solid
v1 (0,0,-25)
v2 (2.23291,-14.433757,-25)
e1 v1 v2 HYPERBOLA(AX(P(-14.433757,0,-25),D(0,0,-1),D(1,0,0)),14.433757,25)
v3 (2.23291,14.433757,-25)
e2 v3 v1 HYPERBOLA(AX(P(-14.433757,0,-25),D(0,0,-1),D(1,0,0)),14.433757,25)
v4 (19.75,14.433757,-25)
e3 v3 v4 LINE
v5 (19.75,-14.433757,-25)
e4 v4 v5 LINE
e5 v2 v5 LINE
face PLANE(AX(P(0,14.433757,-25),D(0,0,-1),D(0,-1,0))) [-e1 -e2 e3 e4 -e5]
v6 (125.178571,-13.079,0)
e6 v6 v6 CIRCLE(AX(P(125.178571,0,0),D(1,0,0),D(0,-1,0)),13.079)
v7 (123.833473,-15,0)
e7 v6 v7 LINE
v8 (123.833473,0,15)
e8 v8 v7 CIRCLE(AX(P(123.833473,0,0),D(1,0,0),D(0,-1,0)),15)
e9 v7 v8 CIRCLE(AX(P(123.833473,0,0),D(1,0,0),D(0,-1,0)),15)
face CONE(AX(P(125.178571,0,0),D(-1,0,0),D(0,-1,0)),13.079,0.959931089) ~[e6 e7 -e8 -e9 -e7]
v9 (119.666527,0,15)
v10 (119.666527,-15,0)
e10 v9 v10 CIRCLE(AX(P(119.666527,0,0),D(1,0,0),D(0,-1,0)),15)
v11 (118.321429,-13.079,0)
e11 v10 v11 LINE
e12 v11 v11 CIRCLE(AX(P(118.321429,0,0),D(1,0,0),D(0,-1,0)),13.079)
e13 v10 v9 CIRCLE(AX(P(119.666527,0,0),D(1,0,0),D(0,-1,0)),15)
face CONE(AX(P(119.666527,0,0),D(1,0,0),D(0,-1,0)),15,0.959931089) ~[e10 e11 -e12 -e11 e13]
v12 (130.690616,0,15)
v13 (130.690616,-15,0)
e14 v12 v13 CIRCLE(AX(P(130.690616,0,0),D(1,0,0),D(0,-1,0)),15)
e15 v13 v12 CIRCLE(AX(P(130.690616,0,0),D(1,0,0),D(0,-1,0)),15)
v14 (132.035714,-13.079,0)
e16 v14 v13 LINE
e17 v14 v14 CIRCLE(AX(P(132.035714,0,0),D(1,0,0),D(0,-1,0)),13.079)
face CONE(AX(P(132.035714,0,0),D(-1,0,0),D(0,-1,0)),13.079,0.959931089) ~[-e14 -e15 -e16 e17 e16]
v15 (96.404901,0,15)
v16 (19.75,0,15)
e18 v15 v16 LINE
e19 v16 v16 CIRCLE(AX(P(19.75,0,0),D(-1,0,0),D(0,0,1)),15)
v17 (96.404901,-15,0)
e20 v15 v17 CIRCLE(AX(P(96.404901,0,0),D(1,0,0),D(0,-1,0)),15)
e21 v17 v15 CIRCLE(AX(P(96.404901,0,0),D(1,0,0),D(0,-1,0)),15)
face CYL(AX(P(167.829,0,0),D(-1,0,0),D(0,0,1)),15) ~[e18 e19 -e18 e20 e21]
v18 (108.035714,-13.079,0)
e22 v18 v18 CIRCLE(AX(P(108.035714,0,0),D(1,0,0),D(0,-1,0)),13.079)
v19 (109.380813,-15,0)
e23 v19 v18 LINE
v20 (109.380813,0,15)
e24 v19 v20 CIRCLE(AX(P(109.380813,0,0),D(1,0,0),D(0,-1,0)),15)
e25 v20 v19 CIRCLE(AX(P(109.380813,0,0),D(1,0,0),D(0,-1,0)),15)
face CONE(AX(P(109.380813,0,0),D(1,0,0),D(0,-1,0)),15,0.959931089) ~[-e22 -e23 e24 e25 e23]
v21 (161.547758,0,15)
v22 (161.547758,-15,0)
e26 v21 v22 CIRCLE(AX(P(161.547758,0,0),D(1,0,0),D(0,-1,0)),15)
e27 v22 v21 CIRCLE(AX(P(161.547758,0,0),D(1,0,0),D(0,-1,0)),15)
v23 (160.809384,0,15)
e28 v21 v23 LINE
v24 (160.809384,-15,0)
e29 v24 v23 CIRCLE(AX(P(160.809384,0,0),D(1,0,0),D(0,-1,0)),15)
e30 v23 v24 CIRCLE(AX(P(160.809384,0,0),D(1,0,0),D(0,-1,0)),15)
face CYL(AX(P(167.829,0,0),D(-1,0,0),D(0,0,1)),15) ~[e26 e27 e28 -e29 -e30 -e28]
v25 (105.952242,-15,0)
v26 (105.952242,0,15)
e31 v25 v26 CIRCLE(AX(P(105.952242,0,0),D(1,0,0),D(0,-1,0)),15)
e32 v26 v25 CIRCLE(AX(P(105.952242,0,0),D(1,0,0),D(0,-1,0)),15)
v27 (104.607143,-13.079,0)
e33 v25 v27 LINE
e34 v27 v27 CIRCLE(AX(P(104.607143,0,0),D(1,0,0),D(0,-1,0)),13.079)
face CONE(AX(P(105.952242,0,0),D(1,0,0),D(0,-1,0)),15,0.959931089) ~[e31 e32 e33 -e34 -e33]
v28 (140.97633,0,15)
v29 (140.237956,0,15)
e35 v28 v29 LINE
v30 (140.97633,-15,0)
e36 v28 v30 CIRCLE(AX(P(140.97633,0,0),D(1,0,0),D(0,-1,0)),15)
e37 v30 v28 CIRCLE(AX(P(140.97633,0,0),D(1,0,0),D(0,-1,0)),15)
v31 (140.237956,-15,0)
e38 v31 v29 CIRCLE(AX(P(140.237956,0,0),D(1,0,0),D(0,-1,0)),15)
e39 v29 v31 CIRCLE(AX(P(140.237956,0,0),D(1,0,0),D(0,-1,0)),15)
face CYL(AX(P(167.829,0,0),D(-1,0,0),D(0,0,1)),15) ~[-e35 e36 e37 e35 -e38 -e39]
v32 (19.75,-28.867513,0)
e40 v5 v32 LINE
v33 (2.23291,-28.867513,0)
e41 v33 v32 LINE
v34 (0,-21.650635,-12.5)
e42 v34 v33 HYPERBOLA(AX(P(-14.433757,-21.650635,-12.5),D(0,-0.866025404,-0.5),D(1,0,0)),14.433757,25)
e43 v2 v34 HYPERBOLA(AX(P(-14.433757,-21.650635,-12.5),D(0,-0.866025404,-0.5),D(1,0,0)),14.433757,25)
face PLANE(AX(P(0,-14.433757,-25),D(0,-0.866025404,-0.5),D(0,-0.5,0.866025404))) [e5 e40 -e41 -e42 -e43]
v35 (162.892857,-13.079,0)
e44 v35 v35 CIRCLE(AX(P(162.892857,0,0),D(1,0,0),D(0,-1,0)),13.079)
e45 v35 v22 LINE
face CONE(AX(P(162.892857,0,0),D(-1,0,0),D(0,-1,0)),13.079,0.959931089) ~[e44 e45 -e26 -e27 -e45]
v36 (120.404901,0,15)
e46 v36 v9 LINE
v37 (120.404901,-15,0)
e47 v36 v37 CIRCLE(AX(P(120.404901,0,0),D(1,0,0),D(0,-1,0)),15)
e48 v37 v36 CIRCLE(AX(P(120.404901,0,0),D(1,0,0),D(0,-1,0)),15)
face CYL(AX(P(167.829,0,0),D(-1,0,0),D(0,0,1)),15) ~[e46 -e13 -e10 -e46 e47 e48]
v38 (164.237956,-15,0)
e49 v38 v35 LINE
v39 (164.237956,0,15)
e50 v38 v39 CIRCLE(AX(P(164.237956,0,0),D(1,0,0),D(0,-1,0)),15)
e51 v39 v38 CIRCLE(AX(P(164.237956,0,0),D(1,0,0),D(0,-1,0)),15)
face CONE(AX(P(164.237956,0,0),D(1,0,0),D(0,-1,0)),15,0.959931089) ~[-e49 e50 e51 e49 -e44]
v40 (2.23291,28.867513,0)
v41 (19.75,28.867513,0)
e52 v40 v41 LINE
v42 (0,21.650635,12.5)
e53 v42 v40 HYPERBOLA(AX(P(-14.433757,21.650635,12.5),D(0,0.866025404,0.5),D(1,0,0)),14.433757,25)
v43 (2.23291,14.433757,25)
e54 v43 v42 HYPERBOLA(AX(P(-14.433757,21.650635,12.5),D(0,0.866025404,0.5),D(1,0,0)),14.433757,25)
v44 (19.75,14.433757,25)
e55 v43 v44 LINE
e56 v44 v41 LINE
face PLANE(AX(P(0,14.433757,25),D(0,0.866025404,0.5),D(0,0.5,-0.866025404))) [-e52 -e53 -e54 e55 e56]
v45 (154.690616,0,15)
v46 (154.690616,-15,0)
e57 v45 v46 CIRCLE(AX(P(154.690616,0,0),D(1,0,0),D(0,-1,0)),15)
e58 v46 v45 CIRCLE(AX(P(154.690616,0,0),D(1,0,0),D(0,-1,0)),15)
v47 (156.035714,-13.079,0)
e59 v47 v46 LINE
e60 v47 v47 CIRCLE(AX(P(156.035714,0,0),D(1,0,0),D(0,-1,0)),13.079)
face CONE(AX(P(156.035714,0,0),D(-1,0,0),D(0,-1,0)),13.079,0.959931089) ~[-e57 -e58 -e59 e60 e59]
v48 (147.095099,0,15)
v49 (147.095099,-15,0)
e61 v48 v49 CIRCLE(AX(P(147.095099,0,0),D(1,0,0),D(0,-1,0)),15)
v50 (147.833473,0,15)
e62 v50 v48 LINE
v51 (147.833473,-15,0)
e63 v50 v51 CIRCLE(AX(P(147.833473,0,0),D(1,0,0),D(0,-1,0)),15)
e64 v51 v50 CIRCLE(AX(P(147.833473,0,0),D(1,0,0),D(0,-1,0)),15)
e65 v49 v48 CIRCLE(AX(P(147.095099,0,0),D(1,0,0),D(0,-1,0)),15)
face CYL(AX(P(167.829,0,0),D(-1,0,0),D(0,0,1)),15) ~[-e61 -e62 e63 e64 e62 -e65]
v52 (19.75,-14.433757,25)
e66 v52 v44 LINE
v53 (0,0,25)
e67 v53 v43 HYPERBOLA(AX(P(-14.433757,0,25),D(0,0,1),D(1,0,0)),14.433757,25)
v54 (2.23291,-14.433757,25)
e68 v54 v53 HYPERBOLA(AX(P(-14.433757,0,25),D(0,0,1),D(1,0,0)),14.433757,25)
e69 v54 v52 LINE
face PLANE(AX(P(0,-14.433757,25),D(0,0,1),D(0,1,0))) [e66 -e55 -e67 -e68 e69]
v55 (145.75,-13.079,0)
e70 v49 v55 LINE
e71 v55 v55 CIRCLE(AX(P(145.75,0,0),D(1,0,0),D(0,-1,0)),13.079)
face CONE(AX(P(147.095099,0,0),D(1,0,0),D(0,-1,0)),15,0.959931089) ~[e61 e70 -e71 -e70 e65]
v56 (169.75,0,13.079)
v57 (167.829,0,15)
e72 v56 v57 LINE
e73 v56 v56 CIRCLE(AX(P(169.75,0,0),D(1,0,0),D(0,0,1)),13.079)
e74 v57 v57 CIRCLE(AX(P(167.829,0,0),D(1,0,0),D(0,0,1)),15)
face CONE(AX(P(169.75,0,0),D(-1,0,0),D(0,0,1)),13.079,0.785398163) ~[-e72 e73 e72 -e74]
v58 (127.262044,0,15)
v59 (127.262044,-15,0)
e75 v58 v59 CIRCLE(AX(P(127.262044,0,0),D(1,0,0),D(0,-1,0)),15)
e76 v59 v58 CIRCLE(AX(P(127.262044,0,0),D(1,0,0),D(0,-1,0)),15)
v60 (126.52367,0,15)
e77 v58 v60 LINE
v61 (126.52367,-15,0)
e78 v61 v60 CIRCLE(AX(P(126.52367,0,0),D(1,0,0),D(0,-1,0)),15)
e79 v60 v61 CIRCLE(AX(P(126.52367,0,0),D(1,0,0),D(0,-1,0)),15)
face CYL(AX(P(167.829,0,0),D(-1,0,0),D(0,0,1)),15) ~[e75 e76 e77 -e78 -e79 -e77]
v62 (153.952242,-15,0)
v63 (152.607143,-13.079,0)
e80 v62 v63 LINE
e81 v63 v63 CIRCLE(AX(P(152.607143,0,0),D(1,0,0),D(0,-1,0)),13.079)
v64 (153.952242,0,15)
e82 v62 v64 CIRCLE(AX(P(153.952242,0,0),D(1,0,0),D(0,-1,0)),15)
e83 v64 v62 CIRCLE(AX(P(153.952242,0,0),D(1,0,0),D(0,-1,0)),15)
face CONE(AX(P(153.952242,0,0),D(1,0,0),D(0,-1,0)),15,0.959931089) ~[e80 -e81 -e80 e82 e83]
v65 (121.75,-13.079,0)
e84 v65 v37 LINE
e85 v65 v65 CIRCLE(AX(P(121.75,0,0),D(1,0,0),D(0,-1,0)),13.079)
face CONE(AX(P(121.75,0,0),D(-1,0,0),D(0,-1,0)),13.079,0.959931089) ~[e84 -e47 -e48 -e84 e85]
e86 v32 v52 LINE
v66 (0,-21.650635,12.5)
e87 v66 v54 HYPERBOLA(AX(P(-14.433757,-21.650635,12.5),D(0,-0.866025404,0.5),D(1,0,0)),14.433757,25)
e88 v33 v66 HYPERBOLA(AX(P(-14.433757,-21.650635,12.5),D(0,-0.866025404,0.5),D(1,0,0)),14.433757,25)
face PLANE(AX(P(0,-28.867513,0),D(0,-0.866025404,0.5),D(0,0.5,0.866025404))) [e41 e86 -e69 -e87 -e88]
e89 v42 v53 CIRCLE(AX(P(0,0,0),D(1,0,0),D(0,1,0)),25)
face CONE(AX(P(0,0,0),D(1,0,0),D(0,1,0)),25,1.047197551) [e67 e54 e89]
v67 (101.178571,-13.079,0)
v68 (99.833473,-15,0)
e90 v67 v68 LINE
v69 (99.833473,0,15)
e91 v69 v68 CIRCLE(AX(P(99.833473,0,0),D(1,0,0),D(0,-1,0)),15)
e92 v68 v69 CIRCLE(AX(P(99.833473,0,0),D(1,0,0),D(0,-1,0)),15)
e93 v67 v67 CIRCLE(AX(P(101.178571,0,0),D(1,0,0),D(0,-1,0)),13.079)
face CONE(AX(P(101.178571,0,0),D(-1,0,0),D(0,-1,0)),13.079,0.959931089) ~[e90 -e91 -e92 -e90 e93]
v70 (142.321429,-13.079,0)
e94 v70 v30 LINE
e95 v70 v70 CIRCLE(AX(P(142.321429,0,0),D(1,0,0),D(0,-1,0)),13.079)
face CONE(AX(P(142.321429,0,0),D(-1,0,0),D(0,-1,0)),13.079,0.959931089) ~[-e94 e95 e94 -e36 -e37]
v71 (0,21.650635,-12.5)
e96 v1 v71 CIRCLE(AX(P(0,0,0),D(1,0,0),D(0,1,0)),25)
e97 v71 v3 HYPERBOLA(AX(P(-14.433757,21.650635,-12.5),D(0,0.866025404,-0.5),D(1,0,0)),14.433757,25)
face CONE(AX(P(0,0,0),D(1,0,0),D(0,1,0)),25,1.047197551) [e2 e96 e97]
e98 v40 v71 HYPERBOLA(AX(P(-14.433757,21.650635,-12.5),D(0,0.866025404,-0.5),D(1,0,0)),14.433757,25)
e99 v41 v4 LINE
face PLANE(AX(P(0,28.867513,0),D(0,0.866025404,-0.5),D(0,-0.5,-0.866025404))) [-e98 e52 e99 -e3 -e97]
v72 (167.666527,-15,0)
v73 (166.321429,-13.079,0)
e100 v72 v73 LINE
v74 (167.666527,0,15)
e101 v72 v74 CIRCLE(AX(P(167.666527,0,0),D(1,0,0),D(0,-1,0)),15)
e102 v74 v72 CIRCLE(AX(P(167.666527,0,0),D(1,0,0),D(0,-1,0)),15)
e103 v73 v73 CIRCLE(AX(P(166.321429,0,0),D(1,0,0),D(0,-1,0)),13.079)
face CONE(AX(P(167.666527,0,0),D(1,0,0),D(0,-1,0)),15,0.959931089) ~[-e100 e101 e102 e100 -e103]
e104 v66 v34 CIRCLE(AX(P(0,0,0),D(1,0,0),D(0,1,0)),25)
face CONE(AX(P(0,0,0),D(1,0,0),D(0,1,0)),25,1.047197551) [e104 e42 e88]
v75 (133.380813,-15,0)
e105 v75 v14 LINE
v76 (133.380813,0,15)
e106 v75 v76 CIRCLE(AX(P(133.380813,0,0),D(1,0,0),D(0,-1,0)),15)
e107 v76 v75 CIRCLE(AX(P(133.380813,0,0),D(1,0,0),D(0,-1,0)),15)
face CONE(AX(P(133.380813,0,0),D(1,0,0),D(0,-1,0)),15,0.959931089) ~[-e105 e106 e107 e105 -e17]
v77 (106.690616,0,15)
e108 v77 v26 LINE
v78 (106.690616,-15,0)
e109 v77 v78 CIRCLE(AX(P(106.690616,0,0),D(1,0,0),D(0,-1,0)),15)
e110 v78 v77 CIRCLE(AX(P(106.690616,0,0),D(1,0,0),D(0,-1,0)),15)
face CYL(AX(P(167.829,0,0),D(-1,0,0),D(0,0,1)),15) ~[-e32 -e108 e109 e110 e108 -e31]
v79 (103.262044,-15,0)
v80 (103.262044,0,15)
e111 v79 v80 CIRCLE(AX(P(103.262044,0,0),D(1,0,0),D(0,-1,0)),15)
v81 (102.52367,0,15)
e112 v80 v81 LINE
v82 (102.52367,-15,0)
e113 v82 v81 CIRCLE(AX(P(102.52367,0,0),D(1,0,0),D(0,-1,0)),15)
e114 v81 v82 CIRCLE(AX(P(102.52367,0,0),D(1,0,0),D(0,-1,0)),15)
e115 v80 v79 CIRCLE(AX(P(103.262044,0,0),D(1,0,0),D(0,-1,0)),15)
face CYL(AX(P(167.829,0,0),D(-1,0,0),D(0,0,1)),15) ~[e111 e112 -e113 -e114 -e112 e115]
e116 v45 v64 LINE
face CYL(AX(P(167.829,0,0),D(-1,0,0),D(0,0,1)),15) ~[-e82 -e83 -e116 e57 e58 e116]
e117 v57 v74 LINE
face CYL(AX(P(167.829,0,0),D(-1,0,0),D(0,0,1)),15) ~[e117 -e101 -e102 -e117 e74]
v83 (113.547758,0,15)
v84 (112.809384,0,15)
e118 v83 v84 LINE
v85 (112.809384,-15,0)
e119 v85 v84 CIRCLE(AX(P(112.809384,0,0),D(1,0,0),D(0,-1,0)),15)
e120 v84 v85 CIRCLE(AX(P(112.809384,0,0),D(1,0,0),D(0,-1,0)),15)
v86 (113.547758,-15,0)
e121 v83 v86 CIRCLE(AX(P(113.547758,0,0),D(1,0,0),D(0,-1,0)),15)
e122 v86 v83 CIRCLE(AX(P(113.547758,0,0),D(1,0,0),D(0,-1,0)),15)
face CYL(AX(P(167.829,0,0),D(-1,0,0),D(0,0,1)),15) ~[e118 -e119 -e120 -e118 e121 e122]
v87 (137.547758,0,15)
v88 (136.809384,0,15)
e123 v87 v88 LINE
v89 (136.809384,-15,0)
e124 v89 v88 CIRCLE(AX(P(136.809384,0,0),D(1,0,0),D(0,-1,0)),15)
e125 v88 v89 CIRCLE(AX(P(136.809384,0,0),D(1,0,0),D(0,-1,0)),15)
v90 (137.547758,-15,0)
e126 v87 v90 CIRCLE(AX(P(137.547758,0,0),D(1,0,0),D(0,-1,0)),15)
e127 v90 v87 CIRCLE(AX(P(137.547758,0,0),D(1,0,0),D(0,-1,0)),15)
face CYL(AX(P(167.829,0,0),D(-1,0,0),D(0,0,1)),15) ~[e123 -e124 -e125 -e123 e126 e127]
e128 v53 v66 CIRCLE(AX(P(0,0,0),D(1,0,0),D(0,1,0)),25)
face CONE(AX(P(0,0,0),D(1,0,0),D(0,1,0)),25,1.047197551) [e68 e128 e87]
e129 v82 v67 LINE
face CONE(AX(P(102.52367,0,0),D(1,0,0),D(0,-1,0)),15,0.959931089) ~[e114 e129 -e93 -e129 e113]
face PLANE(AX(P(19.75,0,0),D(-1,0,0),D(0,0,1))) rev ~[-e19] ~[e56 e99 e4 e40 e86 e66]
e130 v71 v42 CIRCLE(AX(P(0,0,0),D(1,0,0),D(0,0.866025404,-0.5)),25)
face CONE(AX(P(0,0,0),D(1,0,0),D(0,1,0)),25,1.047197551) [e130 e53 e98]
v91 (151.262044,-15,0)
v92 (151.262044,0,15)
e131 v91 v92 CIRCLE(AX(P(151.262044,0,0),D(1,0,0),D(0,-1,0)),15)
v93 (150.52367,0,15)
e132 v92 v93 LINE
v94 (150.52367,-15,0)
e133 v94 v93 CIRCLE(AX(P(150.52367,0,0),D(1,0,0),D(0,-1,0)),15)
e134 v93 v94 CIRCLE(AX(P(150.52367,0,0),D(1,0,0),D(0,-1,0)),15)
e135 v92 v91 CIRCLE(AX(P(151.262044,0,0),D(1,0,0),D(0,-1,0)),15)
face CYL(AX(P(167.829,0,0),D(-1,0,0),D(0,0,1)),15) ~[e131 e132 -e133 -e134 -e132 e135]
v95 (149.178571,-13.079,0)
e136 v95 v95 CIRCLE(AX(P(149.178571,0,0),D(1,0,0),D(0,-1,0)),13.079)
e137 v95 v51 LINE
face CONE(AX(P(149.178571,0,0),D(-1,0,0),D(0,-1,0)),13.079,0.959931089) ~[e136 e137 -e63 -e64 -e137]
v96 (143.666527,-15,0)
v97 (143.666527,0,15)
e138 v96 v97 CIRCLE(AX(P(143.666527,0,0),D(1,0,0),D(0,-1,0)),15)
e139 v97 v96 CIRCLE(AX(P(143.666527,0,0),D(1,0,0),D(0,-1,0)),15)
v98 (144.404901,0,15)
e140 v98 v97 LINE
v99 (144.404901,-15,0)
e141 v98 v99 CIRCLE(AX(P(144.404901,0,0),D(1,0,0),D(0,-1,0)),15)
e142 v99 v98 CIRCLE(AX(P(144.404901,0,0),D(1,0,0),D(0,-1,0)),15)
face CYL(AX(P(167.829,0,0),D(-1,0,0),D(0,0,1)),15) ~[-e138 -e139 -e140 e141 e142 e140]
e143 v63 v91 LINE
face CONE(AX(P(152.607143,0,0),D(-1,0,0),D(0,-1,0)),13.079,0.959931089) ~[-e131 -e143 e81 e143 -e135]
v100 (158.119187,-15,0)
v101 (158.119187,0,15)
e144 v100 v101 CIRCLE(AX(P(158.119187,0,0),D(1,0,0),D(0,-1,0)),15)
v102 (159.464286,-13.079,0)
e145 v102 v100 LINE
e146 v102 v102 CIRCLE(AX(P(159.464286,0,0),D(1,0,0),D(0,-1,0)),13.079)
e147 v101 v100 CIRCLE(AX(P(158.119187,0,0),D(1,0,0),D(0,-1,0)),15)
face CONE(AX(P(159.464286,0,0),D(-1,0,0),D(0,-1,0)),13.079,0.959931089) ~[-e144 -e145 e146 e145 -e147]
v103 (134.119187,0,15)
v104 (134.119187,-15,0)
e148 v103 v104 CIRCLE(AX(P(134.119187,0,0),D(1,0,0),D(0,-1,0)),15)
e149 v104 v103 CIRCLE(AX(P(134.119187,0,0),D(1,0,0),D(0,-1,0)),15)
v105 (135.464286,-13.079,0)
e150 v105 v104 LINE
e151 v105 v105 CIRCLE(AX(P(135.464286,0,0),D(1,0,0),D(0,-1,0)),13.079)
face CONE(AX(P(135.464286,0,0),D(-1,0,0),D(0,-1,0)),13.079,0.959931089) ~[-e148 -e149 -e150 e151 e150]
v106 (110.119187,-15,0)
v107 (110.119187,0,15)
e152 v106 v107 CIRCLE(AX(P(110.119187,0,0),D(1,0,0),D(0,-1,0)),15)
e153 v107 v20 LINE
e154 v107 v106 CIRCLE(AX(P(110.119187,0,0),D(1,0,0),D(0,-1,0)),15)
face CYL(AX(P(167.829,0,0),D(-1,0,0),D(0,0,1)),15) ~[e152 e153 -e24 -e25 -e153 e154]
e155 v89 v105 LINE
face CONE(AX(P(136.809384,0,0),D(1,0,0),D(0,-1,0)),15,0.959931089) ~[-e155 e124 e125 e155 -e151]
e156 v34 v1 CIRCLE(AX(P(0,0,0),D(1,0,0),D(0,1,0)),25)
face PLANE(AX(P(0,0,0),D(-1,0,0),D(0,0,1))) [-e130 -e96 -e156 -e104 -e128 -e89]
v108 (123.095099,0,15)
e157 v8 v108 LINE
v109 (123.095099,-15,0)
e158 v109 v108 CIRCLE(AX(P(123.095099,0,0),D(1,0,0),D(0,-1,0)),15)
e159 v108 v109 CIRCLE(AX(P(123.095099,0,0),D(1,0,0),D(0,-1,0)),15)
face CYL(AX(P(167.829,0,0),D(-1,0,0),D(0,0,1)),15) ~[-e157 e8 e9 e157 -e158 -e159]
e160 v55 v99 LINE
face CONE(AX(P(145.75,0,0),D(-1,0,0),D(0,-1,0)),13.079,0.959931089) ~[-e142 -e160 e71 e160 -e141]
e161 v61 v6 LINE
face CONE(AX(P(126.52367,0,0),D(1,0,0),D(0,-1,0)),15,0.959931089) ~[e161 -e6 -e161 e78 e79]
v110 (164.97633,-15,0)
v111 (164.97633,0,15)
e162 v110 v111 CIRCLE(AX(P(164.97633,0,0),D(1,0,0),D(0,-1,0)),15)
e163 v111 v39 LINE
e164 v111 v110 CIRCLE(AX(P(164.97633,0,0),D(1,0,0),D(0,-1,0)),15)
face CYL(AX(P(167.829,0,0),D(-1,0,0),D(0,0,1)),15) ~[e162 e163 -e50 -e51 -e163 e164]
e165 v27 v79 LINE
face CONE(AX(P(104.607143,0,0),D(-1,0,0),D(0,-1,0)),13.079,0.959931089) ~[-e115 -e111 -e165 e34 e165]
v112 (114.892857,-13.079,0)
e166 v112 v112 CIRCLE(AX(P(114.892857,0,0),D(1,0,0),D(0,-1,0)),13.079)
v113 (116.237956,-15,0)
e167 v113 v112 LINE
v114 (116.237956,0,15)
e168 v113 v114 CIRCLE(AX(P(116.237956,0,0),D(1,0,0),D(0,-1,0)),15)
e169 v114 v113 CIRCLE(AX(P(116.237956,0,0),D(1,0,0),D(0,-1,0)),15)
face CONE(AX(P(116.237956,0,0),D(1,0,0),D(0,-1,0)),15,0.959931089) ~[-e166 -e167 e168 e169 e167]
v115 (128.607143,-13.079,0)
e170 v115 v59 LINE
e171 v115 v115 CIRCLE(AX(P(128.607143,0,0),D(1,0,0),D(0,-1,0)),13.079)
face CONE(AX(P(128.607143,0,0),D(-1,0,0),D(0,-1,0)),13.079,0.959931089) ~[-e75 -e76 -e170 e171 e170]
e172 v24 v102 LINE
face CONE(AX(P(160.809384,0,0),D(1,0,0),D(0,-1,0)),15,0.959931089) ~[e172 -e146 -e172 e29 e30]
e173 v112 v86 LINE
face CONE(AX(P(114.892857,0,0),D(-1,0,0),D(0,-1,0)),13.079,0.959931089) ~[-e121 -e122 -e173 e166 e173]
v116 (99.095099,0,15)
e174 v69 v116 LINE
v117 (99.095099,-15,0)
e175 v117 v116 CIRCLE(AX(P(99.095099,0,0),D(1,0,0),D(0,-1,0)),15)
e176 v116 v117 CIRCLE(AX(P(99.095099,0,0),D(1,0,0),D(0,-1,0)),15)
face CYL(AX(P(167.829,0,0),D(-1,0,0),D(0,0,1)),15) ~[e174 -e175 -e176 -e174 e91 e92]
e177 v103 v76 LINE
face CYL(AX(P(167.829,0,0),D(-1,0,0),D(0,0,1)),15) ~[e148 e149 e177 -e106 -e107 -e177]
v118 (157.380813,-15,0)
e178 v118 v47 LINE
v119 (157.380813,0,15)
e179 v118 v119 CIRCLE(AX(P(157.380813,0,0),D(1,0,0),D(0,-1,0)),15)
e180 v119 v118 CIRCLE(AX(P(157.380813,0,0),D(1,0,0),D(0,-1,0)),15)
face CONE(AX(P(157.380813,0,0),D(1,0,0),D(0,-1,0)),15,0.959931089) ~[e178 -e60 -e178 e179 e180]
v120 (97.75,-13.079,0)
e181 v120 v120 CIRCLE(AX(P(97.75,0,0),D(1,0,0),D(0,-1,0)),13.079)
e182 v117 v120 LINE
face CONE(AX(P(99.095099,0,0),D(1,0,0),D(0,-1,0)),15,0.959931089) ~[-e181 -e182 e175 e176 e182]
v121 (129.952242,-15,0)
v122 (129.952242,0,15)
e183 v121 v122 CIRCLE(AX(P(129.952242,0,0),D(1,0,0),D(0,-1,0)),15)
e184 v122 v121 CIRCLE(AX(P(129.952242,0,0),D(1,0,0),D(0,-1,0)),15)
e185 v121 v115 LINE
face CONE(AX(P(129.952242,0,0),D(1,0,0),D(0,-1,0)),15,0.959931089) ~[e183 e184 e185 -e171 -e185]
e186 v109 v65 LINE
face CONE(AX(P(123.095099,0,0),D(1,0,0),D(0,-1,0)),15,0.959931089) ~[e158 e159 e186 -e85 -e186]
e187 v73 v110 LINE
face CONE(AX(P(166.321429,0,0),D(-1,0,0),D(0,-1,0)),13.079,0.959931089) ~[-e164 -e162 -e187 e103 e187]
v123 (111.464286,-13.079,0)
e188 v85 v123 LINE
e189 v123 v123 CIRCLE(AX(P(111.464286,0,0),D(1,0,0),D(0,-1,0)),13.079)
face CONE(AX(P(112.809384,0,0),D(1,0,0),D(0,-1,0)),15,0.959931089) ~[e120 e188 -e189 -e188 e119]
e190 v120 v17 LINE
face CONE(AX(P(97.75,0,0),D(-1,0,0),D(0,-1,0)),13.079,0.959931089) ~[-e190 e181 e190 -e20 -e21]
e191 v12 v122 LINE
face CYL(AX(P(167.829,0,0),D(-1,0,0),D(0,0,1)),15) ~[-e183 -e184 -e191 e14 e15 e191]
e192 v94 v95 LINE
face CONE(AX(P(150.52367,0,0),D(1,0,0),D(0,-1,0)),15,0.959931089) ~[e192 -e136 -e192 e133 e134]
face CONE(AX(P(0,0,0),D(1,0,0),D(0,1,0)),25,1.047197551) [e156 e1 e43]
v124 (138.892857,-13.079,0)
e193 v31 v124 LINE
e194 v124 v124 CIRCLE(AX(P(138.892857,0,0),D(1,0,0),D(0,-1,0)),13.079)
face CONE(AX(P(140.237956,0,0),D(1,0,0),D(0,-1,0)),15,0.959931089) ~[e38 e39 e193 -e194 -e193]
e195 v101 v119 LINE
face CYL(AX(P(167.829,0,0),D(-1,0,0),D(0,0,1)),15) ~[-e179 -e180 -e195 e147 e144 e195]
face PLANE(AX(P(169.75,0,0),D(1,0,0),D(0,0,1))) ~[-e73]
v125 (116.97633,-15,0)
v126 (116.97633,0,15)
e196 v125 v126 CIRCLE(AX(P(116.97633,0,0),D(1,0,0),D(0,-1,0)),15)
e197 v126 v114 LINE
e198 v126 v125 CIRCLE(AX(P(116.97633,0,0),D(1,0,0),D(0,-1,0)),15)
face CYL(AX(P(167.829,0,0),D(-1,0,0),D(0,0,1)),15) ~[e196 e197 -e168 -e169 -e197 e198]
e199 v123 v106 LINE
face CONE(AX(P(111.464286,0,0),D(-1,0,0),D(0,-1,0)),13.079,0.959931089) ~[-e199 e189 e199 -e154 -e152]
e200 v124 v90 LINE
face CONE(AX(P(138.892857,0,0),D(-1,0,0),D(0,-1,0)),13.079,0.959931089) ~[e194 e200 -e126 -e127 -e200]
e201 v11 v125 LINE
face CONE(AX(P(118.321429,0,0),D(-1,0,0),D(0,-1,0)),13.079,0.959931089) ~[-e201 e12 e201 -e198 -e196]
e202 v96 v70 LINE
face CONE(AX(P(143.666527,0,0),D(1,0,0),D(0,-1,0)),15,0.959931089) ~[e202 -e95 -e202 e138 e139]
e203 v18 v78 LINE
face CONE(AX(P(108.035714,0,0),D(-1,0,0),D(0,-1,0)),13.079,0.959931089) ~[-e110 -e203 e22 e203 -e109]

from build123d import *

# Parameters (mm, degrees)
BASEHEAD_DEPTH  = 19.75
THDSCHPAT_COUNT = 21
THDSCHPAT_PITCH = 3.428571429


with BuildPart() as part:
    # Sketch1 → BaseHead (new body)
    with BuildSketch(Plane(origin=(0, 0, 0), x_dir=(0, 0, -1), z_dir=(1, 0, 0))):
        Polygon((25, 14.43375673), (25, -14.43375673), (0, -28.867513459), (-25, -14.43375673), (-25, 14.43375673), (0, 28.867513459), align=None)
    extrude(amount=BASEHEAD_DEPTH)

    # BodySke → BaseBody (revolve)
    with BuildSketch(Plane.XY, mode=Mode.PRIVATE) as basebody_sk:
        Polygon((0, 0), (169.75, 0), (169.75, 13.079), (167.829, 15), (0, 15), align=None)
    revolve(basebody_sk.sketch.rotate(Axis((0, 0, 0), (1, 0, 0)), 90), axis=Axis((0, 0, 0), (1, 0, 0)))

    # Sketch3 → HeadChamfer (revolve, cut)
    with BuildSketch(Plane.XY):
        Polygon((0, 25), (5.119661283, 33.867513459), (5.119661283, 38.867513459), (-10, 38.867513459), (-10, 25), align=None)
    revolve(axis=Axis((0, 0, 0), (1, 0, 0)), mode=Mode.SUBTRACT)

    # ThdSchSke → ThreadSchematic (revolve, cut)
    with BuildSketch(Plane.XY):
        Polygon((97.75, -13.079), (96.404901319, -15), (96.404901319, -18.75), (99.095098681, -18.75), (99.095098681, -15), align=None)
    threadschematic = revolve(axis=Axis((-3.175, 0, 0), (1, 0, 0)), mode=Mode.SUBTRACT)

    # ThdSchPat: ThreadSchematic ×21
    with Locations(*[(i * THDSCHPAT_PITCH, 0, 0) for i in range(1, THDSCHPAT_COUNT)]):
        add(threadschematic, mode=Mode.SUBTRACT)


solid = part.part
